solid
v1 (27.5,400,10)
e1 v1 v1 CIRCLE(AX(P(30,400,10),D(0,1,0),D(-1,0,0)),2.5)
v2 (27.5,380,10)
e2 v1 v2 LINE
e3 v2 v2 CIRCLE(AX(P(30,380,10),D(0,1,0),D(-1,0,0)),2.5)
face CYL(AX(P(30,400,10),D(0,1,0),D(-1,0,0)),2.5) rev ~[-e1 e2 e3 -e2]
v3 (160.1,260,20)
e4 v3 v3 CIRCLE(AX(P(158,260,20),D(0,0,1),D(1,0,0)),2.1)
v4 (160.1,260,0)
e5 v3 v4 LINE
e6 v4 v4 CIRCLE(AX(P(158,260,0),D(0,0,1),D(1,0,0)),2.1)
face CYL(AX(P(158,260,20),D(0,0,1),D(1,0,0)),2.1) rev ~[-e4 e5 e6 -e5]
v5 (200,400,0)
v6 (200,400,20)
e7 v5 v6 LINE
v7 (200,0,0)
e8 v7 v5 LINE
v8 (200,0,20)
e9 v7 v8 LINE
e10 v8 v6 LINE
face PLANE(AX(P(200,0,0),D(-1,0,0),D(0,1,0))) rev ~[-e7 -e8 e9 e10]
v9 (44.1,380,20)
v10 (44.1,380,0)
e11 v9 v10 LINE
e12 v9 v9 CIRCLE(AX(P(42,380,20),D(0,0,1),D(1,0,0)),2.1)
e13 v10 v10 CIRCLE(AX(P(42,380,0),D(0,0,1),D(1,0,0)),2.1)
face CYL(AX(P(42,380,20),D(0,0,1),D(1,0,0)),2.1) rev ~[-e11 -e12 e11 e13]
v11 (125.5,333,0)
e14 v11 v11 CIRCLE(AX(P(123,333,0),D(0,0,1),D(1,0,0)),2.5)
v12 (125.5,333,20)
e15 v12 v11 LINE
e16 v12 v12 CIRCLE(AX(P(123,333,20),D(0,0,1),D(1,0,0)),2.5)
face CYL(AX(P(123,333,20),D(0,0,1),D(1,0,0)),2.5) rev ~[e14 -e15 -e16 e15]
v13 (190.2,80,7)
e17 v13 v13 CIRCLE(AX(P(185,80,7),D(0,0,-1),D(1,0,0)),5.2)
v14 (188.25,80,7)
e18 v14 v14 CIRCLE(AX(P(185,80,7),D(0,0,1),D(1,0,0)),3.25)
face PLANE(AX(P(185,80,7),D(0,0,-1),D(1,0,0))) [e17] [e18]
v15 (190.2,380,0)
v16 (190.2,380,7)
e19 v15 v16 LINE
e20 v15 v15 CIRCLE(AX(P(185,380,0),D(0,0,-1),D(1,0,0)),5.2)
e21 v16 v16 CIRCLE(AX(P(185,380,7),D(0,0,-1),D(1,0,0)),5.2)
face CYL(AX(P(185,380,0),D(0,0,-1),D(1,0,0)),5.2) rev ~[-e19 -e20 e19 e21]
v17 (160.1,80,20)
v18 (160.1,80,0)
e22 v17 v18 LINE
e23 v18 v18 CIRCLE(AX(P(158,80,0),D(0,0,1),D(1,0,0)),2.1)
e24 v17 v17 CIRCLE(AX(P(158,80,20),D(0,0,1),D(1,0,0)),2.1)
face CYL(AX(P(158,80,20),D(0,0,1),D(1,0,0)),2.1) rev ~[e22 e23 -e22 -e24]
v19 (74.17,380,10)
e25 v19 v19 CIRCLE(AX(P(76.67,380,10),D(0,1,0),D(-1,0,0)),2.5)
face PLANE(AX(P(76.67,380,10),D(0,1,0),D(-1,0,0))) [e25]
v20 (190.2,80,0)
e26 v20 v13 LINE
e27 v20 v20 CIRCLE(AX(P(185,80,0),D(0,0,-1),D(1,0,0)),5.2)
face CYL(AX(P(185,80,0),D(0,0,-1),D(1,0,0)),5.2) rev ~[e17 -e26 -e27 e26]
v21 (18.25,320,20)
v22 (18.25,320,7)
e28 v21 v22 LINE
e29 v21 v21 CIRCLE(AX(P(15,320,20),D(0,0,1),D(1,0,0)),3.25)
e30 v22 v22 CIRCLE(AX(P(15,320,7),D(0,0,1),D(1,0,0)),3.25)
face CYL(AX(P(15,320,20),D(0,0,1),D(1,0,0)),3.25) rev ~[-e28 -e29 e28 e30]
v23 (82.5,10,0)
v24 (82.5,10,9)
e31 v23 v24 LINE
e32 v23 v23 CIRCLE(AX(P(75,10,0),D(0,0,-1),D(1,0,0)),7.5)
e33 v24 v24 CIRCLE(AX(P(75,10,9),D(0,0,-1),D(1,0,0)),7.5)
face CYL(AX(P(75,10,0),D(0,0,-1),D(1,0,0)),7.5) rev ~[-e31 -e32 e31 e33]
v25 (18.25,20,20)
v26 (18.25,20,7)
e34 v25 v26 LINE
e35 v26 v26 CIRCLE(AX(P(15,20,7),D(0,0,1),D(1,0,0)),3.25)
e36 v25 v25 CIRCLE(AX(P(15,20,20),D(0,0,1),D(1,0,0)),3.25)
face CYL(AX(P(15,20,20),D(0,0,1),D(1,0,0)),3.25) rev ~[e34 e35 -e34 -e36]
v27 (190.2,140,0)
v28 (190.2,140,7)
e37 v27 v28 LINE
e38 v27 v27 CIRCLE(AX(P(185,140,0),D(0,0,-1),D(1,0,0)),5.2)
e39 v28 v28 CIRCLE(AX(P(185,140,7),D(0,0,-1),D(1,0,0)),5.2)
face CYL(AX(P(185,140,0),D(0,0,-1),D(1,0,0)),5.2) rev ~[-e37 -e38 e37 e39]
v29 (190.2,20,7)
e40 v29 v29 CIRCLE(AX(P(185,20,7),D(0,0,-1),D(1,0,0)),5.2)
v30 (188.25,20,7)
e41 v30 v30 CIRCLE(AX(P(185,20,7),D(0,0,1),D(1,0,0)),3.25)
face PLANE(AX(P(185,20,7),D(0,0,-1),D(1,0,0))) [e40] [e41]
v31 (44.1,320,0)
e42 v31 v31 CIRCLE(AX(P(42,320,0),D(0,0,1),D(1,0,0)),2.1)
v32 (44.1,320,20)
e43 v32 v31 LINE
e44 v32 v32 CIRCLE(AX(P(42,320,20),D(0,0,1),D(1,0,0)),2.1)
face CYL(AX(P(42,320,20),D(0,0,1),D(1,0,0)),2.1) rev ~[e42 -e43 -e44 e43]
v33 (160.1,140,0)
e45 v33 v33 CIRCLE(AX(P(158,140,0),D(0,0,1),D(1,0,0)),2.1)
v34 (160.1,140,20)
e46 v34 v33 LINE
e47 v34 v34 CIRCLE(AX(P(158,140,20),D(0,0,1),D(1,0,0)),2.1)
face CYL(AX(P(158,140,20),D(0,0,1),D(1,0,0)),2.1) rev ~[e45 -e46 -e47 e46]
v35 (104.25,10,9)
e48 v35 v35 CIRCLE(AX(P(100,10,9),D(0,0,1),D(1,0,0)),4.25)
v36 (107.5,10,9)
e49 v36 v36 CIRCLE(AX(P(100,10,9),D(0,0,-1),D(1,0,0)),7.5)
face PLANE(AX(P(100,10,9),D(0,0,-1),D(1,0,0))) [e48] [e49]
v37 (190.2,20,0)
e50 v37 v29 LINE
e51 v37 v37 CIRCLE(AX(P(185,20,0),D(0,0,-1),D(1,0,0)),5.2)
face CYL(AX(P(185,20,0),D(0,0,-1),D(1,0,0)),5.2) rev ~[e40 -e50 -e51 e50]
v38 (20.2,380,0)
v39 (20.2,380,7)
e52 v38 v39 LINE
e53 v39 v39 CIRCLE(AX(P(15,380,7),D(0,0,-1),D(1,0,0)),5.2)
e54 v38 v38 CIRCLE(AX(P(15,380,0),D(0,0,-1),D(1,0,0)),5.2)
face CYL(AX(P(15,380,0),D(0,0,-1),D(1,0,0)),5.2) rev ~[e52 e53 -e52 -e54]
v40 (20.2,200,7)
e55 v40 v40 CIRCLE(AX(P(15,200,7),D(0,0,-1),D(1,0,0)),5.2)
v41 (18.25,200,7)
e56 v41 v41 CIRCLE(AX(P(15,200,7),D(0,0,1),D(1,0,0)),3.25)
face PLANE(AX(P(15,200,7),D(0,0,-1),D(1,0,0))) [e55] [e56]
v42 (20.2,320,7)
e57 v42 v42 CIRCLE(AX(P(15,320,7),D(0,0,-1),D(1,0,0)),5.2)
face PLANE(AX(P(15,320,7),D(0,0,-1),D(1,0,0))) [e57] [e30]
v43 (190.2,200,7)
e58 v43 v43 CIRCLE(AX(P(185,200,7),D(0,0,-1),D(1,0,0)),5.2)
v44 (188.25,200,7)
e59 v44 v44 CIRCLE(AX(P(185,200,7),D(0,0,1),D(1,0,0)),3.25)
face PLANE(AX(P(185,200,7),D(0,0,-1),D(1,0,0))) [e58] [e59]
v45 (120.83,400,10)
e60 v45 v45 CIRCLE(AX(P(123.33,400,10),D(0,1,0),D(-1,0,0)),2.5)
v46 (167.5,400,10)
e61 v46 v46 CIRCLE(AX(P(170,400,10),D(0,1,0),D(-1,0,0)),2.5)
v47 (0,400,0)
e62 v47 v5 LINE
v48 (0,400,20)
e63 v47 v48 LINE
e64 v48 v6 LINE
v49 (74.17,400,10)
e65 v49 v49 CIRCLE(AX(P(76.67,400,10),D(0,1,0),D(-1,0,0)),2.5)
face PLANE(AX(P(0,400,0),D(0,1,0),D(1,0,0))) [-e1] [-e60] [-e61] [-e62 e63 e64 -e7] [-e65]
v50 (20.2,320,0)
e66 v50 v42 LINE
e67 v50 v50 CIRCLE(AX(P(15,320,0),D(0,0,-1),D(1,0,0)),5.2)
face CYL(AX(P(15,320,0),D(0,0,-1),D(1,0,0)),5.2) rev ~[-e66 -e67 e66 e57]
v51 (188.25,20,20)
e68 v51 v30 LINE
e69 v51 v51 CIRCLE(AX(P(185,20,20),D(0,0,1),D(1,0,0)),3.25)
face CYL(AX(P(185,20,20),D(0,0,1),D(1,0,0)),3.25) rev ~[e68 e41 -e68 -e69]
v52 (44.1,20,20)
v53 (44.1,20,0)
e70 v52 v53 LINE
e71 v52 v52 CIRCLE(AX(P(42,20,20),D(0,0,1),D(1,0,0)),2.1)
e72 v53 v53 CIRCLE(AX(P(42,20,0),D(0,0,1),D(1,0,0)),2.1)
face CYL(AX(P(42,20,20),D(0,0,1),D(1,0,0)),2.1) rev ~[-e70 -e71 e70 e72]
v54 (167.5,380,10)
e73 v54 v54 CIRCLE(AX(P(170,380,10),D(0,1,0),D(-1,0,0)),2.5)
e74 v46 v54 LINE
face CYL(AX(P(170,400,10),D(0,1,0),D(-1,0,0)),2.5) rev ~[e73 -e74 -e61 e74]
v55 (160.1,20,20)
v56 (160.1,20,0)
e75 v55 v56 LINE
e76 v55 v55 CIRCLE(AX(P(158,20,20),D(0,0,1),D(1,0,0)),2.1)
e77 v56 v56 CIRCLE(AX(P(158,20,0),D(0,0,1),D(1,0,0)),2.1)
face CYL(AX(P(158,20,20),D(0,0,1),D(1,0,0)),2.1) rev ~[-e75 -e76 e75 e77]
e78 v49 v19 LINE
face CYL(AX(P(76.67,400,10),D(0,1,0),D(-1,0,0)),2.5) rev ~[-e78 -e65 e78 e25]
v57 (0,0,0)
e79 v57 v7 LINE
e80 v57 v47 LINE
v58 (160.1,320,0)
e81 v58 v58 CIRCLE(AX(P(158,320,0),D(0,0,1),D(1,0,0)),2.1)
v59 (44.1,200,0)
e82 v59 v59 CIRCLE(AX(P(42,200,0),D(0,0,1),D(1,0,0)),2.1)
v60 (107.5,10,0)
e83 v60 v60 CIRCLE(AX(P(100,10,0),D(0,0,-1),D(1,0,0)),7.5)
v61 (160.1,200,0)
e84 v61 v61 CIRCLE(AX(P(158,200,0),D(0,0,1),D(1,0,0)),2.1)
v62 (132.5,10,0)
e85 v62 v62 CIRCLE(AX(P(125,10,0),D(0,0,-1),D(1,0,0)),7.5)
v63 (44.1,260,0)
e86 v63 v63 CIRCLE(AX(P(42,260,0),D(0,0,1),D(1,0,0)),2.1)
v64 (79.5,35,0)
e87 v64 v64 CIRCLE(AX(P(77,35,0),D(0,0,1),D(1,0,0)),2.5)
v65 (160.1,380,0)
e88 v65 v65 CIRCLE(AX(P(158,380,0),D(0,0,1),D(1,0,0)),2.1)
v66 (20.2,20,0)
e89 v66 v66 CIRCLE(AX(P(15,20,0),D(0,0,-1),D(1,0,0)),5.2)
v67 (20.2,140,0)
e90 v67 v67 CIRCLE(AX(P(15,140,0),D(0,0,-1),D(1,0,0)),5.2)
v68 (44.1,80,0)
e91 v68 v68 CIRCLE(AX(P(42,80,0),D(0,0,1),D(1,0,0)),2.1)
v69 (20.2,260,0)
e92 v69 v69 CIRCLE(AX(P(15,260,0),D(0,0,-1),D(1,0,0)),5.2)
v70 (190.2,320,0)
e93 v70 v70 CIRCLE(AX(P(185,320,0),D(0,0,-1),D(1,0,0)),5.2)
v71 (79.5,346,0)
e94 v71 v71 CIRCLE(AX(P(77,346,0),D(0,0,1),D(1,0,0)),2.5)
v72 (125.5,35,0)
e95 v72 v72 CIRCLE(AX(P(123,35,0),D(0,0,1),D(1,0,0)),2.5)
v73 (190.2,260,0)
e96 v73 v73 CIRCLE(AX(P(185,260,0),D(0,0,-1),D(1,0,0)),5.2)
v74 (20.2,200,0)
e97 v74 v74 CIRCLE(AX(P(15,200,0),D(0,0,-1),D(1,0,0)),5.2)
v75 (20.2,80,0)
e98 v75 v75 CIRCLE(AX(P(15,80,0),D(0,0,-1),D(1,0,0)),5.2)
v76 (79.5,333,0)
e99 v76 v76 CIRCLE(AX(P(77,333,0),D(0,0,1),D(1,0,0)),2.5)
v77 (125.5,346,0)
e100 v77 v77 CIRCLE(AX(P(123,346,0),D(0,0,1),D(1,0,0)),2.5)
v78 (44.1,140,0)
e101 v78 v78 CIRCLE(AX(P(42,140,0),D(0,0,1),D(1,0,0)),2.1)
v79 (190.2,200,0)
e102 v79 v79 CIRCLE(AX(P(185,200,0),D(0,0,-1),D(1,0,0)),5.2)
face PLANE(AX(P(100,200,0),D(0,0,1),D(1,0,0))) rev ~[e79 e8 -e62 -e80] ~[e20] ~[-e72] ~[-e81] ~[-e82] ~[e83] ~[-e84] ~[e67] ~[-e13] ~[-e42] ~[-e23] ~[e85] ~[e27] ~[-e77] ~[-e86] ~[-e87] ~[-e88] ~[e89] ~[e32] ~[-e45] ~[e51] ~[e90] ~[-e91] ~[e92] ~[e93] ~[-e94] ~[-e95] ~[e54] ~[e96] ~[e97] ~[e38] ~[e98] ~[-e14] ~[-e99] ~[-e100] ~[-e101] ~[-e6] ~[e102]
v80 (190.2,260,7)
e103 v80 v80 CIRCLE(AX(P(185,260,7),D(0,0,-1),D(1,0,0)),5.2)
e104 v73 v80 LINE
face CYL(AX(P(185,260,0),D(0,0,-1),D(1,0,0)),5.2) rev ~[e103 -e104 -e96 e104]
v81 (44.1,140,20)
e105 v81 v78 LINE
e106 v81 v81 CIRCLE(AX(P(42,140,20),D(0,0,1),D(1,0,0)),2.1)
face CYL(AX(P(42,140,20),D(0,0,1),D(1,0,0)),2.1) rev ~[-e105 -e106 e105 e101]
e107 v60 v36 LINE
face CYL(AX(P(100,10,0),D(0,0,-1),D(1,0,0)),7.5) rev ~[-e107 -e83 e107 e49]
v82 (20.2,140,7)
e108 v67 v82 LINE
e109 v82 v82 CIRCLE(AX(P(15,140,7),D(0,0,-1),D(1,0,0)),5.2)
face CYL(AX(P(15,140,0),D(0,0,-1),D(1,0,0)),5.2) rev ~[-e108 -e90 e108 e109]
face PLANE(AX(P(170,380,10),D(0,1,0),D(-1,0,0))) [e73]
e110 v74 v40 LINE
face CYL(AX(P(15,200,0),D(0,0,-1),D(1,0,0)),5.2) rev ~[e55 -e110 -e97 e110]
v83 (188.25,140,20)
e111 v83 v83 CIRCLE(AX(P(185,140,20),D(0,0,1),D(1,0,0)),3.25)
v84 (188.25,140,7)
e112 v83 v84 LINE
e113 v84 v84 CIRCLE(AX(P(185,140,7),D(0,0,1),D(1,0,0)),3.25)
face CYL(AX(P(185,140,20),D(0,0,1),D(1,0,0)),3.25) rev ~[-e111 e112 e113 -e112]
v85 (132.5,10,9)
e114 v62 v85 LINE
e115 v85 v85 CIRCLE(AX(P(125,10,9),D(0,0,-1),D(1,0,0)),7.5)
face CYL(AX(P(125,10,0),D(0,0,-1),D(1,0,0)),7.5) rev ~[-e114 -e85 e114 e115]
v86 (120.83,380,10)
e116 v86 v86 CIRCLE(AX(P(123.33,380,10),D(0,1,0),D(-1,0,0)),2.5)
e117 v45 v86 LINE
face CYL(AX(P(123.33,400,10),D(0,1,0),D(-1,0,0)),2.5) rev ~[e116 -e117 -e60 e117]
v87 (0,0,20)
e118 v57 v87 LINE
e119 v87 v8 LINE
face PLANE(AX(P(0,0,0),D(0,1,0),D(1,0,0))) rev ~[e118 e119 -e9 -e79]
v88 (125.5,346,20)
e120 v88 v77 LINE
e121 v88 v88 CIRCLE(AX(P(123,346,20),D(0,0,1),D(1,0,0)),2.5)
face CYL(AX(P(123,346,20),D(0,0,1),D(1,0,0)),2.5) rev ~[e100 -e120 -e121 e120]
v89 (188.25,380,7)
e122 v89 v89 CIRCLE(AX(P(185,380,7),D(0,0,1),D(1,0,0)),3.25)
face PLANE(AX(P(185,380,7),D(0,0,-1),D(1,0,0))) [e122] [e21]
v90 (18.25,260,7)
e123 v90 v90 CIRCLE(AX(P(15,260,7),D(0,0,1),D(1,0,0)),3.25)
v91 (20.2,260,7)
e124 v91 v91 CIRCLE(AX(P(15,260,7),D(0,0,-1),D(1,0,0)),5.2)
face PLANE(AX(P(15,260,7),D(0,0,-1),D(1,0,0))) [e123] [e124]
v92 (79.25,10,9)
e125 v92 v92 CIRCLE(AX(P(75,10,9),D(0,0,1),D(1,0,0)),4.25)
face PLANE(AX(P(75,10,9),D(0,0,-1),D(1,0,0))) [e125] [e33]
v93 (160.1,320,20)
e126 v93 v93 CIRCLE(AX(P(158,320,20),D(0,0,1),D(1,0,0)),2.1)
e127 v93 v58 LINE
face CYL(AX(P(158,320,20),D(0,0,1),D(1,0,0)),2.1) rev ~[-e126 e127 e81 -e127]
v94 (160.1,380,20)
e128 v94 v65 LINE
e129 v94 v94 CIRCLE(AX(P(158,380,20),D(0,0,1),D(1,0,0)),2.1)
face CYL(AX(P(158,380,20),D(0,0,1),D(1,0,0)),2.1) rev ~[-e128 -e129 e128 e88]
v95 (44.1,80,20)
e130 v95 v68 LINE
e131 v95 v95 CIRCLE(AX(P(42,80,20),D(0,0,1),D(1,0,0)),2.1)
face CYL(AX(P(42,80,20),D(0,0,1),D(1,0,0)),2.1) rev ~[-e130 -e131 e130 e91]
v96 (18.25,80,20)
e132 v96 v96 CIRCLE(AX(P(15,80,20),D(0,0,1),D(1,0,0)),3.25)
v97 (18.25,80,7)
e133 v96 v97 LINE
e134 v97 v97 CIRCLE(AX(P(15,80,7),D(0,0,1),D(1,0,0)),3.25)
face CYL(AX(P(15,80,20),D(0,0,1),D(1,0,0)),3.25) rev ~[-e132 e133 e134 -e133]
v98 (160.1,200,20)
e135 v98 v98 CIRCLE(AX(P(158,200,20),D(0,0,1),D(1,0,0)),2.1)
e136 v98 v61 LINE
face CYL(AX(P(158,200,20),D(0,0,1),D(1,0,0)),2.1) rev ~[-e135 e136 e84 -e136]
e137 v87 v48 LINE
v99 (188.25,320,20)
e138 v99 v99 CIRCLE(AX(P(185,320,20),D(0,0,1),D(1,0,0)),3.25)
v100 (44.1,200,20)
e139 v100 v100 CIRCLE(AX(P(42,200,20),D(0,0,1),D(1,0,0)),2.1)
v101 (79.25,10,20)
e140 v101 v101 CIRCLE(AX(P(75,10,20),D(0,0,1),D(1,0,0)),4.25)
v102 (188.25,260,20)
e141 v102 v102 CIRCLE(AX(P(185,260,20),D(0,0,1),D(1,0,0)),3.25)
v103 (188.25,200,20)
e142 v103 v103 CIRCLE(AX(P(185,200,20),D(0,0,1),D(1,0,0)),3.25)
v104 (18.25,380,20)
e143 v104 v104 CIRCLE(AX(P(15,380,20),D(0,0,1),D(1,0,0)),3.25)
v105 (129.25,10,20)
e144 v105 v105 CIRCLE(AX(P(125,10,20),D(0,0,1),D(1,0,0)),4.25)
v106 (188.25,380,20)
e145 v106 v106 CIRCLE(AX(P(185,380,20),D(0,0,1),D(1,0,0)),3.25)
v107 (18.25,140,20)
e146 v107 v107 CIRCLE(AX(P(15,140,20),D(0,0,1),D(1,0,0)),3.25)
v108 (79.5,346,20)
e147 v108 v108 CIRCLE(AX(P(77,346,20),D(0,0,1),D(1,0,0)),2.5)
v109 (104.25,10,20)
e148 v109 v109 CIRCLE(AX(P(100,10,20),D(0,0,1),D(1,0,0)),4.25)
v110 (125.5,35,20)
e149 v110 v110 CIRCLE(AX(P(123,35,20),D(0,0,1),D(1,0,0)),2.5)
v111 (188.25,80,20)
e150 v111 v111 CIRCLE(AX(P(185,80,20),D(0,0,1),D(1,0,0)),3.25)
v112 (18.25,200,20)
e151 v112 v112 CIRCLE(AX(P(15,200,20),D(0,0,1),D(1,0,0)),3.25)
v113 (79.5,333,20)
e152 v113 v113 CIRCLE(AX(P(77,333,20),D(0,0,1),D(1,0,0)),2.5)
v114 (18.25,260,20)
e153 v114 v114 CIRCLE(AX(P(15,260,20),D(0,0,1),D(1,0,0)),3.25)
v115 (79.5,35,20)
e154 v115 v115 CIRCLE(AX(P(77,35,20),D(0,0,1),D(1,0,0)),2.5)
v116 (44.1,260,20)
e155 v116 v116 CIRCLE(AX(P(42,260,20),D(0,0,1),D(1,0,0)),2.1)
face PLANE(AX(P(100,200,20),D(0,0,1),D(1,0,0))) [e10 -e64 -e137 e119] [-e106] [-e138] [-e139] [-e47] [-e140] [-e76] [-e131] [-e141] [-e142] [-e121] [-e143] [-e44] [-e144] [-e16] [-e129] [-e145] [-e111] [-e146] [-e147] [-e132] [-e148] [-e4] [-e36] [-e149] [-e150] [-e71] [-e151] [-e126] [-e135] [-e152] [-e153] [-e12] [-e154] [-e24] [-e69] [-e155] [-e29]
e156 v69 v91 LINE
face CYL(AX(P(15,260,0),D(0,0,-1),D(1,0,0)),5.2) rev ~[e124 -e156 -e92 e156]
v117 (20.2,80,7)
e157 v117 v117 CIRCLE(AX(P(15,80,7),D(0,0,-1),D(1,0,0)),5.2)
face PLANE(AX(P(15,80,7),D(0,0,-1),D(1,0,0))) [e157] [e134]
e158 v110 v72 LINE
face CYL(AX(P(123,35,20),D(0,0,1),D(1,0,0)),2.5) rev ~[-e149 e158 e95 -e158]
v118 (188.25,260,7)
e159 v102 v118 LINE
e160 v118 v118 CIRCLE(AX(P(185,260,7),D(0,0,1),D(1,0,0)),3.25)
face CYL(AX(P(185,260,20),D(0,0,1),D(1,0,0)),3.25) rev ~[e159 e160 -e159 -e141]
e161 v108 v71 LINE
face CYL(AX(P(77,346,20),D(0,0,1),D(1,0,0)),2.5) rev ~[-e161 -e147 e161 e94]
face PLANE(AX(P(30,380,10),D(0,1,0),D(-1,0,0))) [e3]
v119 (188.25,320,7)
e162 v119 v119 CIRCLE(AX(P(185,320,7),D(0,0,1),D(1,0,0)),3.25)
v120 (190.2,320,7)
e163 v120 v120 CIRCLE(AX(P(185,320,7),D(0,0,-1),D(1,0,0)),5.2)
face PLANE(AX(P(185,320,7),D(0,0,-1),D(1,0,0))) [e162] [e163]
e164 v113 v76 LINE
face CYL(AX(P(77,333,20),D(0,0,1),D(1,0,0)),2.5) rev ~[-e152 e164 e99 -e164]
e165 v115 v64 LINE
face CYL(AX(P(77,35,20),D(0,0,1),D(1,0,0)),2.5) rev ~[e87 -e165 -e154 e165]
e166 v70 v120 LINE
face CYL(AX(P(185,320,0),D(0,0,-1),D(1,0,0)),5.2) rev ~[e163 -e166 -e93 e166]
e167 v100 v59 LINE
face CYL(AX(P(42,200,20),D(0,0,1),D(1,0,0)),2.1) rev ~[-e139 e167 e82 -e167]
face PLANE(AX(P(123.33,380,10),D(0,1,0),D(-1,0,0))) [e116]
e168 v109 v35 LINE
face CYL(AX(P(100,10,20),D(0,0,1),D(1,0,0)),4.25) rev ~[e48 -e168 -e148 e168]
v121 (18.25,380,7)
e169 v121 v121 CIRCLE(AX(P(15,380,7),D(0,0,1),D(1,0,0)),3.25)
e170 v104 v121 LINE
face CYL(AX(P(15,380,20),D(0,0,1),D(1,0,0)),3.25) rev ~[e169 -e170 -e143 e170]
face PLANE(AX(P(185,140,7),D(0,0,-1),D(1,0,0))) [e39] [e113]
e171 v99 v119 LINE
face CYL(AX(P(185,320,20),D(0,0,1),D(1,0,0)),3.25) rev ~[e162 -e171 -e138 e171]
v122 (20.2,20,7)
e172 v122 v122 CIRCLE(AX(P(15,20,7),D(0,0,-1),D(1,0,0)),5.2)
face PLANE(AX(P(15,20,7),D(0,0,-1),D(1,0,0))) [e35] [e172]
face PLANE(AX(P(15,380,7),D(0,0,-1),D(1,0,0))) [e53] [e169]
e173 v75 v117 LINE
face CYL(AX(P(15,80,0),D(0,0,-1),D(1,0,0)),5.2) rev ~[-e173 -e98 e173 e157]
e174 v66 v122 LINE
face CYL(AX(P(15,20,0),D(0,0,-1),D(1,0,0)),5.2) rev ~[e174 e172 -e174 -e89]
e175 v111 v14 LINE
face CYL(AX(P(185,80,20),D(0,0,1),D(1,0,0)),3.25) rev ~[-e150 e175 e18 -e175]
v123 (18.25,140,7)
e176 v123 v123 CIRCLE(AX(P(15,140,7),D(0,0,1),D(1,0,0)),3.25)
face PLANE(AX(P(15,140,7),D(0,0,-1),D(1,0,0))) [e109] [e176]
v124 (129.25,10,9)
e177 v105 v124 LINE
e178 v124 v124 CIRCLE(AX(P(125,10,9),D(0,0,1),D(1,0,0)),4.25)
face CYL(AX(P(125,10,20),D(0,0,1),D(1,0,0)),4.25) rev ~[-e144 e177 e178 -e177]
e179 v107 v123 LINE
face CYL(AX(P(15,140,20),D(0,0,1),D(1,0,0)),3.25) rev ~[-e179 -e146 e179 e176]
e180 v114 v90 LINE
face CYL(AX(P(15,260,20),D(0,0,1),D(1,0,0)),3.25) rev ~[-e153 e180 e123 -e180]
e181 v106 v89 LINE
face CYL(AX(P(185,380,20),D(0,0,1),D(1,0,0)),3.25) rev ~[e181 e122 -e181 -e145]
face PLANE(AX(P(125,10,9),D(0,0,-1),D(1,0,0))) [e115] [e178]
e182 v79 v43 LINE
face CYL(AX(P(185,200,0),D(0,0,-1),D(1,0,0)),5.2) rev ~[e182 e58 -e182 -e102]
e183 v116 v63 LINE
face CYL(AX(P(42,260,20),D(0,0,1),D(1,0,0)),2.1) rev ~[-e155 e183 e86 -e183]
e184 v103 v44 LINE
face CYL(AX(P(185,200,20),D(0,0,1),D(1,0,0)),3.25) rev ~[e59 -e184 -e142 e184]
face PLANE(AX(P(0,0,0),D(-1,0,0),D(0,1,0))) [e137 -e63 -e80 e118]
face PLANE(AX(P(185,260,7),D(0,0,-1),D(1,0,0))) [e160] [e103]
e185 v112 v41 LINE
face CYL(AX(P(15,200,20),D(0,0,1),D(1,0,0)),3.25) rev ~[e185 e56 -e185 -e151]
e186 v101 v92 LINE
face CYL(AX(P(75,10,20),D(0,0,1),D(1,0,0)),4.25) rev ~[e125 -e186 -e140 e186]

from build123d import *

# Parameters (mm, degrees)
SKETCH_W        = 200
SKETCH_H        = 400
PAD_DEPTH       = 20
SKETCH001_R     = 2.1
POCKET_DEPTH    = 20
SKETCH002_R     = 3.25
POCKET001_DEPTH = 20
SKETCH003_R     = 5.2
POCKET002_DEPTH = 7
SKETCH004_R     = 2.5
POCKET003_DEPTH = 20
SKETCH005_R     = 2.5
POCKET004_DEPTH = 20
SKETCH006_R     = 4.25
POCKET005_DEPTH = 20
SKETCH007_R     = 7.5
POCKET006_DEPTH = 9


with BuildPart() as part:
    # Sketch → Pad (new body)
    with BuildSketch(Plane.XY):
        with Locations((100, 200)):
            Rectangle(SKETCH_W, SKETCH_H)
    extrude(amount=PAD_DEPTH)

    # Sketch001 (on Face6 of Pad) → Pocket (cut)
    with BuildSketch(Plane.XY.offset(20)):
        with Locations((42, 380)):
            Circle(SKETCH001_R)
        with Locations((42, 320)):
            Circle(SKETCH001_R)
        with Locations((42, 260)):
            Circle(SKETCH001_R)
        with Locations((42, 200)):
            Circle(SKETCH001_R)
        with Locations((42, 140)):
            Circle(SKETCH001_R)
        with Locations((42, 80)):
            Circle(SKETCH001_R)
        with Locations((42, 20)):
            Circle(SKETCH001_R)
        with Locations((158, 380)):
            Circle(SKETCH001_R)
        with Locations((158, 320)):
            Circle(SKETCH001_R)
        with Locations((158, 260)):
            Circle(SKETCH001_R)
        with Locations((158, 200)):
            Circle(SKETCH001_R)
        with Locations((158, 140)):
            Circle(SKETCH001_R)
        with Locations((158, 80)):
            Circle(SKETCH001_R)
        with Locations((158, 20)):
            Circle(SKETCH001_R)
    extrude(amount=-POCKET_DEPTH, mode=Mode.SUBTRACT)

    # Sketch002 (on Face5 of Pocket) → Pocket001 (cut)
    with BuildSketch(Plane.XY.offset(20)):
        with Locations((15, 380)):
            Circle(SKETCH002_R)
        with Locations((15, 320)):
            Circle(SKETCH002_R)
        with Locations((15, 260)):
            Circle(SKETCH002_R)
        with Locations((15, 200)):
            Circle(SKETCH002_R)
        with Locations((15, 140)):
            Circle(SKETCH002_R)
        with Locations((15, 80)):
            Circle(SKETCH002_R)
        with Locations((15, 20)):
            Circle(SKETCH002_R)
        with Locations((185, 380)):
            Circle(SKETCH002_R)
        with Locations((185, 320)):
            Circle(SKETCH002_R)
        with Locations((185, 260)):
            Circle(SKETCH002_R)
        with Locations((185, 200)):
            Circle(SKETCH002_R)
        with Locations((185, 140)):
            Circle(SKETCH002_R)
        with Locations((185, 80)):
            Circle(SKETCH002_R)
        with Locations((185, 20)):
            Circle(SKETCH002_R)
    extrude(amount=-POCKET001_DEPTH, mode=Mode.SUBTRACT)

    # Sketch003 (on Face4 of Pocket001) → Pocket002 (cut)
    with BuildSketch(Plane(origin=(0, 0, 0), x_dir=(1, 0, 0), z_dir=(0, 0, -1))):
        with Locations((15, -20)):
            Circle(SKETCH003_R)
        with Locations((15, -80)):
            Circle(SKETCH003_R)
        with Locations((15, -140)):
            Circle(SKETCH003_R)
        with Locations((15, -200)):
            Circle(SKETCH003_R)
        with Locations((15, -260)):
            Circle(SKETCH003_R)
        with Locations((15, -320)):
            Circle(SKETCH003_R)
        with Locations((185, -20)):
            Circle(SKETCH003_R)
        with Locations((185, -80)):
            Circle(SKETCH003_R)
        with Locations((185, -140)):
            Circle(SKETCH003_R)
        with Locations((185, -200)):
            Circle(SKETCH003_R)
        with Locations((185, -260)):
            Circle(SKETCH003_R)
        with Locations((185, -320)):
            Circle(SKETCH003_R)
        with Locations((185, -380)):
            Circle(SKETCH003_R)
        with Locations((15, -380)):
            Circle(SKETCH003_R)
    extrude(amount=-POCKET002_DEPTH, mode=Mode.SUBTRACT)

    # Sketch004 (on Face5 of Pocket002) → Pocket003 (cut)
    with BuildSketch(Plane.XY.offset(20)):
        with Locations((77, 346)):
            Circle(SKETCH004_R)
        with Locations((123, 346)):
            Circle(SKETCH004_R)
        with Locations((77, 333)):
            Circle(SKETCH004_R)
        with Locations((123, 333)):
            Circle(SKETCH004_R)
        with Locations((77, 35)):
            Circle(SKETCH004_R)
        with Locations((123, 35)):
            Circle(SKETCH004_R)
    extrude(amount=-POCKET003_DEPTH, mode=Mode.SUBTRACT)

    # Sketch005 (on Face1 of Pocket003) → Pocket004 (cut)
    with BuildSketch(Plane(origin=(0, 400, 0), x_dir=(-1, 0, 0), z_dir=(0, 1, 0))):
        with Locations((-170, 10)):
            Circle(SKETCH005_R)
        with Locations((-123.33, 10)):
            Circle(SKETCH005_R)
        with Locations((-76.67, 10)):
            Circle(SKETCH005_R)
        with Locations((-30, 10)):
            Circle(SKETCH005_R)
    extrude(amount=-POCKET004_DEPTH, mode=Mode.SUBTRACT)

    # Sketch006 (on Face4 of Pocket004) → Pocket005 (cut)
    with BuildSketch(Plane.XY.offset(20)):
        with Locations((75, 10)):
            Circle(SKETCH006_R)
        with Locations((100, 10)):
            Circle(SKETCH006_R)
        with Locations((125, 10)):
            Circle(SKETCH006_R)
    extrude(amount=-POCKET005_DEPTH, mode=Mode.SUBTRACT)

    # Sketch007 (on Face3 of Pocket005) → Pocket006 (cut)
    with BuildSketch(Plane(origin=(0, 0, 0), x_dir=(1, 0, 0), z_dir=(0, 0, -1))):
        with Locations((75, -10)):
            Circle(SKETCH007_R)
        with Locations((100, -10)):
            Circle(SKETCH007_R)
        with Locations((125, -10)):
            Circle(SKETCH007_R)
    extrude(amount=-POCKET006_DEPTH, mode=Mode.SUBTRACT)


solid = part.part
